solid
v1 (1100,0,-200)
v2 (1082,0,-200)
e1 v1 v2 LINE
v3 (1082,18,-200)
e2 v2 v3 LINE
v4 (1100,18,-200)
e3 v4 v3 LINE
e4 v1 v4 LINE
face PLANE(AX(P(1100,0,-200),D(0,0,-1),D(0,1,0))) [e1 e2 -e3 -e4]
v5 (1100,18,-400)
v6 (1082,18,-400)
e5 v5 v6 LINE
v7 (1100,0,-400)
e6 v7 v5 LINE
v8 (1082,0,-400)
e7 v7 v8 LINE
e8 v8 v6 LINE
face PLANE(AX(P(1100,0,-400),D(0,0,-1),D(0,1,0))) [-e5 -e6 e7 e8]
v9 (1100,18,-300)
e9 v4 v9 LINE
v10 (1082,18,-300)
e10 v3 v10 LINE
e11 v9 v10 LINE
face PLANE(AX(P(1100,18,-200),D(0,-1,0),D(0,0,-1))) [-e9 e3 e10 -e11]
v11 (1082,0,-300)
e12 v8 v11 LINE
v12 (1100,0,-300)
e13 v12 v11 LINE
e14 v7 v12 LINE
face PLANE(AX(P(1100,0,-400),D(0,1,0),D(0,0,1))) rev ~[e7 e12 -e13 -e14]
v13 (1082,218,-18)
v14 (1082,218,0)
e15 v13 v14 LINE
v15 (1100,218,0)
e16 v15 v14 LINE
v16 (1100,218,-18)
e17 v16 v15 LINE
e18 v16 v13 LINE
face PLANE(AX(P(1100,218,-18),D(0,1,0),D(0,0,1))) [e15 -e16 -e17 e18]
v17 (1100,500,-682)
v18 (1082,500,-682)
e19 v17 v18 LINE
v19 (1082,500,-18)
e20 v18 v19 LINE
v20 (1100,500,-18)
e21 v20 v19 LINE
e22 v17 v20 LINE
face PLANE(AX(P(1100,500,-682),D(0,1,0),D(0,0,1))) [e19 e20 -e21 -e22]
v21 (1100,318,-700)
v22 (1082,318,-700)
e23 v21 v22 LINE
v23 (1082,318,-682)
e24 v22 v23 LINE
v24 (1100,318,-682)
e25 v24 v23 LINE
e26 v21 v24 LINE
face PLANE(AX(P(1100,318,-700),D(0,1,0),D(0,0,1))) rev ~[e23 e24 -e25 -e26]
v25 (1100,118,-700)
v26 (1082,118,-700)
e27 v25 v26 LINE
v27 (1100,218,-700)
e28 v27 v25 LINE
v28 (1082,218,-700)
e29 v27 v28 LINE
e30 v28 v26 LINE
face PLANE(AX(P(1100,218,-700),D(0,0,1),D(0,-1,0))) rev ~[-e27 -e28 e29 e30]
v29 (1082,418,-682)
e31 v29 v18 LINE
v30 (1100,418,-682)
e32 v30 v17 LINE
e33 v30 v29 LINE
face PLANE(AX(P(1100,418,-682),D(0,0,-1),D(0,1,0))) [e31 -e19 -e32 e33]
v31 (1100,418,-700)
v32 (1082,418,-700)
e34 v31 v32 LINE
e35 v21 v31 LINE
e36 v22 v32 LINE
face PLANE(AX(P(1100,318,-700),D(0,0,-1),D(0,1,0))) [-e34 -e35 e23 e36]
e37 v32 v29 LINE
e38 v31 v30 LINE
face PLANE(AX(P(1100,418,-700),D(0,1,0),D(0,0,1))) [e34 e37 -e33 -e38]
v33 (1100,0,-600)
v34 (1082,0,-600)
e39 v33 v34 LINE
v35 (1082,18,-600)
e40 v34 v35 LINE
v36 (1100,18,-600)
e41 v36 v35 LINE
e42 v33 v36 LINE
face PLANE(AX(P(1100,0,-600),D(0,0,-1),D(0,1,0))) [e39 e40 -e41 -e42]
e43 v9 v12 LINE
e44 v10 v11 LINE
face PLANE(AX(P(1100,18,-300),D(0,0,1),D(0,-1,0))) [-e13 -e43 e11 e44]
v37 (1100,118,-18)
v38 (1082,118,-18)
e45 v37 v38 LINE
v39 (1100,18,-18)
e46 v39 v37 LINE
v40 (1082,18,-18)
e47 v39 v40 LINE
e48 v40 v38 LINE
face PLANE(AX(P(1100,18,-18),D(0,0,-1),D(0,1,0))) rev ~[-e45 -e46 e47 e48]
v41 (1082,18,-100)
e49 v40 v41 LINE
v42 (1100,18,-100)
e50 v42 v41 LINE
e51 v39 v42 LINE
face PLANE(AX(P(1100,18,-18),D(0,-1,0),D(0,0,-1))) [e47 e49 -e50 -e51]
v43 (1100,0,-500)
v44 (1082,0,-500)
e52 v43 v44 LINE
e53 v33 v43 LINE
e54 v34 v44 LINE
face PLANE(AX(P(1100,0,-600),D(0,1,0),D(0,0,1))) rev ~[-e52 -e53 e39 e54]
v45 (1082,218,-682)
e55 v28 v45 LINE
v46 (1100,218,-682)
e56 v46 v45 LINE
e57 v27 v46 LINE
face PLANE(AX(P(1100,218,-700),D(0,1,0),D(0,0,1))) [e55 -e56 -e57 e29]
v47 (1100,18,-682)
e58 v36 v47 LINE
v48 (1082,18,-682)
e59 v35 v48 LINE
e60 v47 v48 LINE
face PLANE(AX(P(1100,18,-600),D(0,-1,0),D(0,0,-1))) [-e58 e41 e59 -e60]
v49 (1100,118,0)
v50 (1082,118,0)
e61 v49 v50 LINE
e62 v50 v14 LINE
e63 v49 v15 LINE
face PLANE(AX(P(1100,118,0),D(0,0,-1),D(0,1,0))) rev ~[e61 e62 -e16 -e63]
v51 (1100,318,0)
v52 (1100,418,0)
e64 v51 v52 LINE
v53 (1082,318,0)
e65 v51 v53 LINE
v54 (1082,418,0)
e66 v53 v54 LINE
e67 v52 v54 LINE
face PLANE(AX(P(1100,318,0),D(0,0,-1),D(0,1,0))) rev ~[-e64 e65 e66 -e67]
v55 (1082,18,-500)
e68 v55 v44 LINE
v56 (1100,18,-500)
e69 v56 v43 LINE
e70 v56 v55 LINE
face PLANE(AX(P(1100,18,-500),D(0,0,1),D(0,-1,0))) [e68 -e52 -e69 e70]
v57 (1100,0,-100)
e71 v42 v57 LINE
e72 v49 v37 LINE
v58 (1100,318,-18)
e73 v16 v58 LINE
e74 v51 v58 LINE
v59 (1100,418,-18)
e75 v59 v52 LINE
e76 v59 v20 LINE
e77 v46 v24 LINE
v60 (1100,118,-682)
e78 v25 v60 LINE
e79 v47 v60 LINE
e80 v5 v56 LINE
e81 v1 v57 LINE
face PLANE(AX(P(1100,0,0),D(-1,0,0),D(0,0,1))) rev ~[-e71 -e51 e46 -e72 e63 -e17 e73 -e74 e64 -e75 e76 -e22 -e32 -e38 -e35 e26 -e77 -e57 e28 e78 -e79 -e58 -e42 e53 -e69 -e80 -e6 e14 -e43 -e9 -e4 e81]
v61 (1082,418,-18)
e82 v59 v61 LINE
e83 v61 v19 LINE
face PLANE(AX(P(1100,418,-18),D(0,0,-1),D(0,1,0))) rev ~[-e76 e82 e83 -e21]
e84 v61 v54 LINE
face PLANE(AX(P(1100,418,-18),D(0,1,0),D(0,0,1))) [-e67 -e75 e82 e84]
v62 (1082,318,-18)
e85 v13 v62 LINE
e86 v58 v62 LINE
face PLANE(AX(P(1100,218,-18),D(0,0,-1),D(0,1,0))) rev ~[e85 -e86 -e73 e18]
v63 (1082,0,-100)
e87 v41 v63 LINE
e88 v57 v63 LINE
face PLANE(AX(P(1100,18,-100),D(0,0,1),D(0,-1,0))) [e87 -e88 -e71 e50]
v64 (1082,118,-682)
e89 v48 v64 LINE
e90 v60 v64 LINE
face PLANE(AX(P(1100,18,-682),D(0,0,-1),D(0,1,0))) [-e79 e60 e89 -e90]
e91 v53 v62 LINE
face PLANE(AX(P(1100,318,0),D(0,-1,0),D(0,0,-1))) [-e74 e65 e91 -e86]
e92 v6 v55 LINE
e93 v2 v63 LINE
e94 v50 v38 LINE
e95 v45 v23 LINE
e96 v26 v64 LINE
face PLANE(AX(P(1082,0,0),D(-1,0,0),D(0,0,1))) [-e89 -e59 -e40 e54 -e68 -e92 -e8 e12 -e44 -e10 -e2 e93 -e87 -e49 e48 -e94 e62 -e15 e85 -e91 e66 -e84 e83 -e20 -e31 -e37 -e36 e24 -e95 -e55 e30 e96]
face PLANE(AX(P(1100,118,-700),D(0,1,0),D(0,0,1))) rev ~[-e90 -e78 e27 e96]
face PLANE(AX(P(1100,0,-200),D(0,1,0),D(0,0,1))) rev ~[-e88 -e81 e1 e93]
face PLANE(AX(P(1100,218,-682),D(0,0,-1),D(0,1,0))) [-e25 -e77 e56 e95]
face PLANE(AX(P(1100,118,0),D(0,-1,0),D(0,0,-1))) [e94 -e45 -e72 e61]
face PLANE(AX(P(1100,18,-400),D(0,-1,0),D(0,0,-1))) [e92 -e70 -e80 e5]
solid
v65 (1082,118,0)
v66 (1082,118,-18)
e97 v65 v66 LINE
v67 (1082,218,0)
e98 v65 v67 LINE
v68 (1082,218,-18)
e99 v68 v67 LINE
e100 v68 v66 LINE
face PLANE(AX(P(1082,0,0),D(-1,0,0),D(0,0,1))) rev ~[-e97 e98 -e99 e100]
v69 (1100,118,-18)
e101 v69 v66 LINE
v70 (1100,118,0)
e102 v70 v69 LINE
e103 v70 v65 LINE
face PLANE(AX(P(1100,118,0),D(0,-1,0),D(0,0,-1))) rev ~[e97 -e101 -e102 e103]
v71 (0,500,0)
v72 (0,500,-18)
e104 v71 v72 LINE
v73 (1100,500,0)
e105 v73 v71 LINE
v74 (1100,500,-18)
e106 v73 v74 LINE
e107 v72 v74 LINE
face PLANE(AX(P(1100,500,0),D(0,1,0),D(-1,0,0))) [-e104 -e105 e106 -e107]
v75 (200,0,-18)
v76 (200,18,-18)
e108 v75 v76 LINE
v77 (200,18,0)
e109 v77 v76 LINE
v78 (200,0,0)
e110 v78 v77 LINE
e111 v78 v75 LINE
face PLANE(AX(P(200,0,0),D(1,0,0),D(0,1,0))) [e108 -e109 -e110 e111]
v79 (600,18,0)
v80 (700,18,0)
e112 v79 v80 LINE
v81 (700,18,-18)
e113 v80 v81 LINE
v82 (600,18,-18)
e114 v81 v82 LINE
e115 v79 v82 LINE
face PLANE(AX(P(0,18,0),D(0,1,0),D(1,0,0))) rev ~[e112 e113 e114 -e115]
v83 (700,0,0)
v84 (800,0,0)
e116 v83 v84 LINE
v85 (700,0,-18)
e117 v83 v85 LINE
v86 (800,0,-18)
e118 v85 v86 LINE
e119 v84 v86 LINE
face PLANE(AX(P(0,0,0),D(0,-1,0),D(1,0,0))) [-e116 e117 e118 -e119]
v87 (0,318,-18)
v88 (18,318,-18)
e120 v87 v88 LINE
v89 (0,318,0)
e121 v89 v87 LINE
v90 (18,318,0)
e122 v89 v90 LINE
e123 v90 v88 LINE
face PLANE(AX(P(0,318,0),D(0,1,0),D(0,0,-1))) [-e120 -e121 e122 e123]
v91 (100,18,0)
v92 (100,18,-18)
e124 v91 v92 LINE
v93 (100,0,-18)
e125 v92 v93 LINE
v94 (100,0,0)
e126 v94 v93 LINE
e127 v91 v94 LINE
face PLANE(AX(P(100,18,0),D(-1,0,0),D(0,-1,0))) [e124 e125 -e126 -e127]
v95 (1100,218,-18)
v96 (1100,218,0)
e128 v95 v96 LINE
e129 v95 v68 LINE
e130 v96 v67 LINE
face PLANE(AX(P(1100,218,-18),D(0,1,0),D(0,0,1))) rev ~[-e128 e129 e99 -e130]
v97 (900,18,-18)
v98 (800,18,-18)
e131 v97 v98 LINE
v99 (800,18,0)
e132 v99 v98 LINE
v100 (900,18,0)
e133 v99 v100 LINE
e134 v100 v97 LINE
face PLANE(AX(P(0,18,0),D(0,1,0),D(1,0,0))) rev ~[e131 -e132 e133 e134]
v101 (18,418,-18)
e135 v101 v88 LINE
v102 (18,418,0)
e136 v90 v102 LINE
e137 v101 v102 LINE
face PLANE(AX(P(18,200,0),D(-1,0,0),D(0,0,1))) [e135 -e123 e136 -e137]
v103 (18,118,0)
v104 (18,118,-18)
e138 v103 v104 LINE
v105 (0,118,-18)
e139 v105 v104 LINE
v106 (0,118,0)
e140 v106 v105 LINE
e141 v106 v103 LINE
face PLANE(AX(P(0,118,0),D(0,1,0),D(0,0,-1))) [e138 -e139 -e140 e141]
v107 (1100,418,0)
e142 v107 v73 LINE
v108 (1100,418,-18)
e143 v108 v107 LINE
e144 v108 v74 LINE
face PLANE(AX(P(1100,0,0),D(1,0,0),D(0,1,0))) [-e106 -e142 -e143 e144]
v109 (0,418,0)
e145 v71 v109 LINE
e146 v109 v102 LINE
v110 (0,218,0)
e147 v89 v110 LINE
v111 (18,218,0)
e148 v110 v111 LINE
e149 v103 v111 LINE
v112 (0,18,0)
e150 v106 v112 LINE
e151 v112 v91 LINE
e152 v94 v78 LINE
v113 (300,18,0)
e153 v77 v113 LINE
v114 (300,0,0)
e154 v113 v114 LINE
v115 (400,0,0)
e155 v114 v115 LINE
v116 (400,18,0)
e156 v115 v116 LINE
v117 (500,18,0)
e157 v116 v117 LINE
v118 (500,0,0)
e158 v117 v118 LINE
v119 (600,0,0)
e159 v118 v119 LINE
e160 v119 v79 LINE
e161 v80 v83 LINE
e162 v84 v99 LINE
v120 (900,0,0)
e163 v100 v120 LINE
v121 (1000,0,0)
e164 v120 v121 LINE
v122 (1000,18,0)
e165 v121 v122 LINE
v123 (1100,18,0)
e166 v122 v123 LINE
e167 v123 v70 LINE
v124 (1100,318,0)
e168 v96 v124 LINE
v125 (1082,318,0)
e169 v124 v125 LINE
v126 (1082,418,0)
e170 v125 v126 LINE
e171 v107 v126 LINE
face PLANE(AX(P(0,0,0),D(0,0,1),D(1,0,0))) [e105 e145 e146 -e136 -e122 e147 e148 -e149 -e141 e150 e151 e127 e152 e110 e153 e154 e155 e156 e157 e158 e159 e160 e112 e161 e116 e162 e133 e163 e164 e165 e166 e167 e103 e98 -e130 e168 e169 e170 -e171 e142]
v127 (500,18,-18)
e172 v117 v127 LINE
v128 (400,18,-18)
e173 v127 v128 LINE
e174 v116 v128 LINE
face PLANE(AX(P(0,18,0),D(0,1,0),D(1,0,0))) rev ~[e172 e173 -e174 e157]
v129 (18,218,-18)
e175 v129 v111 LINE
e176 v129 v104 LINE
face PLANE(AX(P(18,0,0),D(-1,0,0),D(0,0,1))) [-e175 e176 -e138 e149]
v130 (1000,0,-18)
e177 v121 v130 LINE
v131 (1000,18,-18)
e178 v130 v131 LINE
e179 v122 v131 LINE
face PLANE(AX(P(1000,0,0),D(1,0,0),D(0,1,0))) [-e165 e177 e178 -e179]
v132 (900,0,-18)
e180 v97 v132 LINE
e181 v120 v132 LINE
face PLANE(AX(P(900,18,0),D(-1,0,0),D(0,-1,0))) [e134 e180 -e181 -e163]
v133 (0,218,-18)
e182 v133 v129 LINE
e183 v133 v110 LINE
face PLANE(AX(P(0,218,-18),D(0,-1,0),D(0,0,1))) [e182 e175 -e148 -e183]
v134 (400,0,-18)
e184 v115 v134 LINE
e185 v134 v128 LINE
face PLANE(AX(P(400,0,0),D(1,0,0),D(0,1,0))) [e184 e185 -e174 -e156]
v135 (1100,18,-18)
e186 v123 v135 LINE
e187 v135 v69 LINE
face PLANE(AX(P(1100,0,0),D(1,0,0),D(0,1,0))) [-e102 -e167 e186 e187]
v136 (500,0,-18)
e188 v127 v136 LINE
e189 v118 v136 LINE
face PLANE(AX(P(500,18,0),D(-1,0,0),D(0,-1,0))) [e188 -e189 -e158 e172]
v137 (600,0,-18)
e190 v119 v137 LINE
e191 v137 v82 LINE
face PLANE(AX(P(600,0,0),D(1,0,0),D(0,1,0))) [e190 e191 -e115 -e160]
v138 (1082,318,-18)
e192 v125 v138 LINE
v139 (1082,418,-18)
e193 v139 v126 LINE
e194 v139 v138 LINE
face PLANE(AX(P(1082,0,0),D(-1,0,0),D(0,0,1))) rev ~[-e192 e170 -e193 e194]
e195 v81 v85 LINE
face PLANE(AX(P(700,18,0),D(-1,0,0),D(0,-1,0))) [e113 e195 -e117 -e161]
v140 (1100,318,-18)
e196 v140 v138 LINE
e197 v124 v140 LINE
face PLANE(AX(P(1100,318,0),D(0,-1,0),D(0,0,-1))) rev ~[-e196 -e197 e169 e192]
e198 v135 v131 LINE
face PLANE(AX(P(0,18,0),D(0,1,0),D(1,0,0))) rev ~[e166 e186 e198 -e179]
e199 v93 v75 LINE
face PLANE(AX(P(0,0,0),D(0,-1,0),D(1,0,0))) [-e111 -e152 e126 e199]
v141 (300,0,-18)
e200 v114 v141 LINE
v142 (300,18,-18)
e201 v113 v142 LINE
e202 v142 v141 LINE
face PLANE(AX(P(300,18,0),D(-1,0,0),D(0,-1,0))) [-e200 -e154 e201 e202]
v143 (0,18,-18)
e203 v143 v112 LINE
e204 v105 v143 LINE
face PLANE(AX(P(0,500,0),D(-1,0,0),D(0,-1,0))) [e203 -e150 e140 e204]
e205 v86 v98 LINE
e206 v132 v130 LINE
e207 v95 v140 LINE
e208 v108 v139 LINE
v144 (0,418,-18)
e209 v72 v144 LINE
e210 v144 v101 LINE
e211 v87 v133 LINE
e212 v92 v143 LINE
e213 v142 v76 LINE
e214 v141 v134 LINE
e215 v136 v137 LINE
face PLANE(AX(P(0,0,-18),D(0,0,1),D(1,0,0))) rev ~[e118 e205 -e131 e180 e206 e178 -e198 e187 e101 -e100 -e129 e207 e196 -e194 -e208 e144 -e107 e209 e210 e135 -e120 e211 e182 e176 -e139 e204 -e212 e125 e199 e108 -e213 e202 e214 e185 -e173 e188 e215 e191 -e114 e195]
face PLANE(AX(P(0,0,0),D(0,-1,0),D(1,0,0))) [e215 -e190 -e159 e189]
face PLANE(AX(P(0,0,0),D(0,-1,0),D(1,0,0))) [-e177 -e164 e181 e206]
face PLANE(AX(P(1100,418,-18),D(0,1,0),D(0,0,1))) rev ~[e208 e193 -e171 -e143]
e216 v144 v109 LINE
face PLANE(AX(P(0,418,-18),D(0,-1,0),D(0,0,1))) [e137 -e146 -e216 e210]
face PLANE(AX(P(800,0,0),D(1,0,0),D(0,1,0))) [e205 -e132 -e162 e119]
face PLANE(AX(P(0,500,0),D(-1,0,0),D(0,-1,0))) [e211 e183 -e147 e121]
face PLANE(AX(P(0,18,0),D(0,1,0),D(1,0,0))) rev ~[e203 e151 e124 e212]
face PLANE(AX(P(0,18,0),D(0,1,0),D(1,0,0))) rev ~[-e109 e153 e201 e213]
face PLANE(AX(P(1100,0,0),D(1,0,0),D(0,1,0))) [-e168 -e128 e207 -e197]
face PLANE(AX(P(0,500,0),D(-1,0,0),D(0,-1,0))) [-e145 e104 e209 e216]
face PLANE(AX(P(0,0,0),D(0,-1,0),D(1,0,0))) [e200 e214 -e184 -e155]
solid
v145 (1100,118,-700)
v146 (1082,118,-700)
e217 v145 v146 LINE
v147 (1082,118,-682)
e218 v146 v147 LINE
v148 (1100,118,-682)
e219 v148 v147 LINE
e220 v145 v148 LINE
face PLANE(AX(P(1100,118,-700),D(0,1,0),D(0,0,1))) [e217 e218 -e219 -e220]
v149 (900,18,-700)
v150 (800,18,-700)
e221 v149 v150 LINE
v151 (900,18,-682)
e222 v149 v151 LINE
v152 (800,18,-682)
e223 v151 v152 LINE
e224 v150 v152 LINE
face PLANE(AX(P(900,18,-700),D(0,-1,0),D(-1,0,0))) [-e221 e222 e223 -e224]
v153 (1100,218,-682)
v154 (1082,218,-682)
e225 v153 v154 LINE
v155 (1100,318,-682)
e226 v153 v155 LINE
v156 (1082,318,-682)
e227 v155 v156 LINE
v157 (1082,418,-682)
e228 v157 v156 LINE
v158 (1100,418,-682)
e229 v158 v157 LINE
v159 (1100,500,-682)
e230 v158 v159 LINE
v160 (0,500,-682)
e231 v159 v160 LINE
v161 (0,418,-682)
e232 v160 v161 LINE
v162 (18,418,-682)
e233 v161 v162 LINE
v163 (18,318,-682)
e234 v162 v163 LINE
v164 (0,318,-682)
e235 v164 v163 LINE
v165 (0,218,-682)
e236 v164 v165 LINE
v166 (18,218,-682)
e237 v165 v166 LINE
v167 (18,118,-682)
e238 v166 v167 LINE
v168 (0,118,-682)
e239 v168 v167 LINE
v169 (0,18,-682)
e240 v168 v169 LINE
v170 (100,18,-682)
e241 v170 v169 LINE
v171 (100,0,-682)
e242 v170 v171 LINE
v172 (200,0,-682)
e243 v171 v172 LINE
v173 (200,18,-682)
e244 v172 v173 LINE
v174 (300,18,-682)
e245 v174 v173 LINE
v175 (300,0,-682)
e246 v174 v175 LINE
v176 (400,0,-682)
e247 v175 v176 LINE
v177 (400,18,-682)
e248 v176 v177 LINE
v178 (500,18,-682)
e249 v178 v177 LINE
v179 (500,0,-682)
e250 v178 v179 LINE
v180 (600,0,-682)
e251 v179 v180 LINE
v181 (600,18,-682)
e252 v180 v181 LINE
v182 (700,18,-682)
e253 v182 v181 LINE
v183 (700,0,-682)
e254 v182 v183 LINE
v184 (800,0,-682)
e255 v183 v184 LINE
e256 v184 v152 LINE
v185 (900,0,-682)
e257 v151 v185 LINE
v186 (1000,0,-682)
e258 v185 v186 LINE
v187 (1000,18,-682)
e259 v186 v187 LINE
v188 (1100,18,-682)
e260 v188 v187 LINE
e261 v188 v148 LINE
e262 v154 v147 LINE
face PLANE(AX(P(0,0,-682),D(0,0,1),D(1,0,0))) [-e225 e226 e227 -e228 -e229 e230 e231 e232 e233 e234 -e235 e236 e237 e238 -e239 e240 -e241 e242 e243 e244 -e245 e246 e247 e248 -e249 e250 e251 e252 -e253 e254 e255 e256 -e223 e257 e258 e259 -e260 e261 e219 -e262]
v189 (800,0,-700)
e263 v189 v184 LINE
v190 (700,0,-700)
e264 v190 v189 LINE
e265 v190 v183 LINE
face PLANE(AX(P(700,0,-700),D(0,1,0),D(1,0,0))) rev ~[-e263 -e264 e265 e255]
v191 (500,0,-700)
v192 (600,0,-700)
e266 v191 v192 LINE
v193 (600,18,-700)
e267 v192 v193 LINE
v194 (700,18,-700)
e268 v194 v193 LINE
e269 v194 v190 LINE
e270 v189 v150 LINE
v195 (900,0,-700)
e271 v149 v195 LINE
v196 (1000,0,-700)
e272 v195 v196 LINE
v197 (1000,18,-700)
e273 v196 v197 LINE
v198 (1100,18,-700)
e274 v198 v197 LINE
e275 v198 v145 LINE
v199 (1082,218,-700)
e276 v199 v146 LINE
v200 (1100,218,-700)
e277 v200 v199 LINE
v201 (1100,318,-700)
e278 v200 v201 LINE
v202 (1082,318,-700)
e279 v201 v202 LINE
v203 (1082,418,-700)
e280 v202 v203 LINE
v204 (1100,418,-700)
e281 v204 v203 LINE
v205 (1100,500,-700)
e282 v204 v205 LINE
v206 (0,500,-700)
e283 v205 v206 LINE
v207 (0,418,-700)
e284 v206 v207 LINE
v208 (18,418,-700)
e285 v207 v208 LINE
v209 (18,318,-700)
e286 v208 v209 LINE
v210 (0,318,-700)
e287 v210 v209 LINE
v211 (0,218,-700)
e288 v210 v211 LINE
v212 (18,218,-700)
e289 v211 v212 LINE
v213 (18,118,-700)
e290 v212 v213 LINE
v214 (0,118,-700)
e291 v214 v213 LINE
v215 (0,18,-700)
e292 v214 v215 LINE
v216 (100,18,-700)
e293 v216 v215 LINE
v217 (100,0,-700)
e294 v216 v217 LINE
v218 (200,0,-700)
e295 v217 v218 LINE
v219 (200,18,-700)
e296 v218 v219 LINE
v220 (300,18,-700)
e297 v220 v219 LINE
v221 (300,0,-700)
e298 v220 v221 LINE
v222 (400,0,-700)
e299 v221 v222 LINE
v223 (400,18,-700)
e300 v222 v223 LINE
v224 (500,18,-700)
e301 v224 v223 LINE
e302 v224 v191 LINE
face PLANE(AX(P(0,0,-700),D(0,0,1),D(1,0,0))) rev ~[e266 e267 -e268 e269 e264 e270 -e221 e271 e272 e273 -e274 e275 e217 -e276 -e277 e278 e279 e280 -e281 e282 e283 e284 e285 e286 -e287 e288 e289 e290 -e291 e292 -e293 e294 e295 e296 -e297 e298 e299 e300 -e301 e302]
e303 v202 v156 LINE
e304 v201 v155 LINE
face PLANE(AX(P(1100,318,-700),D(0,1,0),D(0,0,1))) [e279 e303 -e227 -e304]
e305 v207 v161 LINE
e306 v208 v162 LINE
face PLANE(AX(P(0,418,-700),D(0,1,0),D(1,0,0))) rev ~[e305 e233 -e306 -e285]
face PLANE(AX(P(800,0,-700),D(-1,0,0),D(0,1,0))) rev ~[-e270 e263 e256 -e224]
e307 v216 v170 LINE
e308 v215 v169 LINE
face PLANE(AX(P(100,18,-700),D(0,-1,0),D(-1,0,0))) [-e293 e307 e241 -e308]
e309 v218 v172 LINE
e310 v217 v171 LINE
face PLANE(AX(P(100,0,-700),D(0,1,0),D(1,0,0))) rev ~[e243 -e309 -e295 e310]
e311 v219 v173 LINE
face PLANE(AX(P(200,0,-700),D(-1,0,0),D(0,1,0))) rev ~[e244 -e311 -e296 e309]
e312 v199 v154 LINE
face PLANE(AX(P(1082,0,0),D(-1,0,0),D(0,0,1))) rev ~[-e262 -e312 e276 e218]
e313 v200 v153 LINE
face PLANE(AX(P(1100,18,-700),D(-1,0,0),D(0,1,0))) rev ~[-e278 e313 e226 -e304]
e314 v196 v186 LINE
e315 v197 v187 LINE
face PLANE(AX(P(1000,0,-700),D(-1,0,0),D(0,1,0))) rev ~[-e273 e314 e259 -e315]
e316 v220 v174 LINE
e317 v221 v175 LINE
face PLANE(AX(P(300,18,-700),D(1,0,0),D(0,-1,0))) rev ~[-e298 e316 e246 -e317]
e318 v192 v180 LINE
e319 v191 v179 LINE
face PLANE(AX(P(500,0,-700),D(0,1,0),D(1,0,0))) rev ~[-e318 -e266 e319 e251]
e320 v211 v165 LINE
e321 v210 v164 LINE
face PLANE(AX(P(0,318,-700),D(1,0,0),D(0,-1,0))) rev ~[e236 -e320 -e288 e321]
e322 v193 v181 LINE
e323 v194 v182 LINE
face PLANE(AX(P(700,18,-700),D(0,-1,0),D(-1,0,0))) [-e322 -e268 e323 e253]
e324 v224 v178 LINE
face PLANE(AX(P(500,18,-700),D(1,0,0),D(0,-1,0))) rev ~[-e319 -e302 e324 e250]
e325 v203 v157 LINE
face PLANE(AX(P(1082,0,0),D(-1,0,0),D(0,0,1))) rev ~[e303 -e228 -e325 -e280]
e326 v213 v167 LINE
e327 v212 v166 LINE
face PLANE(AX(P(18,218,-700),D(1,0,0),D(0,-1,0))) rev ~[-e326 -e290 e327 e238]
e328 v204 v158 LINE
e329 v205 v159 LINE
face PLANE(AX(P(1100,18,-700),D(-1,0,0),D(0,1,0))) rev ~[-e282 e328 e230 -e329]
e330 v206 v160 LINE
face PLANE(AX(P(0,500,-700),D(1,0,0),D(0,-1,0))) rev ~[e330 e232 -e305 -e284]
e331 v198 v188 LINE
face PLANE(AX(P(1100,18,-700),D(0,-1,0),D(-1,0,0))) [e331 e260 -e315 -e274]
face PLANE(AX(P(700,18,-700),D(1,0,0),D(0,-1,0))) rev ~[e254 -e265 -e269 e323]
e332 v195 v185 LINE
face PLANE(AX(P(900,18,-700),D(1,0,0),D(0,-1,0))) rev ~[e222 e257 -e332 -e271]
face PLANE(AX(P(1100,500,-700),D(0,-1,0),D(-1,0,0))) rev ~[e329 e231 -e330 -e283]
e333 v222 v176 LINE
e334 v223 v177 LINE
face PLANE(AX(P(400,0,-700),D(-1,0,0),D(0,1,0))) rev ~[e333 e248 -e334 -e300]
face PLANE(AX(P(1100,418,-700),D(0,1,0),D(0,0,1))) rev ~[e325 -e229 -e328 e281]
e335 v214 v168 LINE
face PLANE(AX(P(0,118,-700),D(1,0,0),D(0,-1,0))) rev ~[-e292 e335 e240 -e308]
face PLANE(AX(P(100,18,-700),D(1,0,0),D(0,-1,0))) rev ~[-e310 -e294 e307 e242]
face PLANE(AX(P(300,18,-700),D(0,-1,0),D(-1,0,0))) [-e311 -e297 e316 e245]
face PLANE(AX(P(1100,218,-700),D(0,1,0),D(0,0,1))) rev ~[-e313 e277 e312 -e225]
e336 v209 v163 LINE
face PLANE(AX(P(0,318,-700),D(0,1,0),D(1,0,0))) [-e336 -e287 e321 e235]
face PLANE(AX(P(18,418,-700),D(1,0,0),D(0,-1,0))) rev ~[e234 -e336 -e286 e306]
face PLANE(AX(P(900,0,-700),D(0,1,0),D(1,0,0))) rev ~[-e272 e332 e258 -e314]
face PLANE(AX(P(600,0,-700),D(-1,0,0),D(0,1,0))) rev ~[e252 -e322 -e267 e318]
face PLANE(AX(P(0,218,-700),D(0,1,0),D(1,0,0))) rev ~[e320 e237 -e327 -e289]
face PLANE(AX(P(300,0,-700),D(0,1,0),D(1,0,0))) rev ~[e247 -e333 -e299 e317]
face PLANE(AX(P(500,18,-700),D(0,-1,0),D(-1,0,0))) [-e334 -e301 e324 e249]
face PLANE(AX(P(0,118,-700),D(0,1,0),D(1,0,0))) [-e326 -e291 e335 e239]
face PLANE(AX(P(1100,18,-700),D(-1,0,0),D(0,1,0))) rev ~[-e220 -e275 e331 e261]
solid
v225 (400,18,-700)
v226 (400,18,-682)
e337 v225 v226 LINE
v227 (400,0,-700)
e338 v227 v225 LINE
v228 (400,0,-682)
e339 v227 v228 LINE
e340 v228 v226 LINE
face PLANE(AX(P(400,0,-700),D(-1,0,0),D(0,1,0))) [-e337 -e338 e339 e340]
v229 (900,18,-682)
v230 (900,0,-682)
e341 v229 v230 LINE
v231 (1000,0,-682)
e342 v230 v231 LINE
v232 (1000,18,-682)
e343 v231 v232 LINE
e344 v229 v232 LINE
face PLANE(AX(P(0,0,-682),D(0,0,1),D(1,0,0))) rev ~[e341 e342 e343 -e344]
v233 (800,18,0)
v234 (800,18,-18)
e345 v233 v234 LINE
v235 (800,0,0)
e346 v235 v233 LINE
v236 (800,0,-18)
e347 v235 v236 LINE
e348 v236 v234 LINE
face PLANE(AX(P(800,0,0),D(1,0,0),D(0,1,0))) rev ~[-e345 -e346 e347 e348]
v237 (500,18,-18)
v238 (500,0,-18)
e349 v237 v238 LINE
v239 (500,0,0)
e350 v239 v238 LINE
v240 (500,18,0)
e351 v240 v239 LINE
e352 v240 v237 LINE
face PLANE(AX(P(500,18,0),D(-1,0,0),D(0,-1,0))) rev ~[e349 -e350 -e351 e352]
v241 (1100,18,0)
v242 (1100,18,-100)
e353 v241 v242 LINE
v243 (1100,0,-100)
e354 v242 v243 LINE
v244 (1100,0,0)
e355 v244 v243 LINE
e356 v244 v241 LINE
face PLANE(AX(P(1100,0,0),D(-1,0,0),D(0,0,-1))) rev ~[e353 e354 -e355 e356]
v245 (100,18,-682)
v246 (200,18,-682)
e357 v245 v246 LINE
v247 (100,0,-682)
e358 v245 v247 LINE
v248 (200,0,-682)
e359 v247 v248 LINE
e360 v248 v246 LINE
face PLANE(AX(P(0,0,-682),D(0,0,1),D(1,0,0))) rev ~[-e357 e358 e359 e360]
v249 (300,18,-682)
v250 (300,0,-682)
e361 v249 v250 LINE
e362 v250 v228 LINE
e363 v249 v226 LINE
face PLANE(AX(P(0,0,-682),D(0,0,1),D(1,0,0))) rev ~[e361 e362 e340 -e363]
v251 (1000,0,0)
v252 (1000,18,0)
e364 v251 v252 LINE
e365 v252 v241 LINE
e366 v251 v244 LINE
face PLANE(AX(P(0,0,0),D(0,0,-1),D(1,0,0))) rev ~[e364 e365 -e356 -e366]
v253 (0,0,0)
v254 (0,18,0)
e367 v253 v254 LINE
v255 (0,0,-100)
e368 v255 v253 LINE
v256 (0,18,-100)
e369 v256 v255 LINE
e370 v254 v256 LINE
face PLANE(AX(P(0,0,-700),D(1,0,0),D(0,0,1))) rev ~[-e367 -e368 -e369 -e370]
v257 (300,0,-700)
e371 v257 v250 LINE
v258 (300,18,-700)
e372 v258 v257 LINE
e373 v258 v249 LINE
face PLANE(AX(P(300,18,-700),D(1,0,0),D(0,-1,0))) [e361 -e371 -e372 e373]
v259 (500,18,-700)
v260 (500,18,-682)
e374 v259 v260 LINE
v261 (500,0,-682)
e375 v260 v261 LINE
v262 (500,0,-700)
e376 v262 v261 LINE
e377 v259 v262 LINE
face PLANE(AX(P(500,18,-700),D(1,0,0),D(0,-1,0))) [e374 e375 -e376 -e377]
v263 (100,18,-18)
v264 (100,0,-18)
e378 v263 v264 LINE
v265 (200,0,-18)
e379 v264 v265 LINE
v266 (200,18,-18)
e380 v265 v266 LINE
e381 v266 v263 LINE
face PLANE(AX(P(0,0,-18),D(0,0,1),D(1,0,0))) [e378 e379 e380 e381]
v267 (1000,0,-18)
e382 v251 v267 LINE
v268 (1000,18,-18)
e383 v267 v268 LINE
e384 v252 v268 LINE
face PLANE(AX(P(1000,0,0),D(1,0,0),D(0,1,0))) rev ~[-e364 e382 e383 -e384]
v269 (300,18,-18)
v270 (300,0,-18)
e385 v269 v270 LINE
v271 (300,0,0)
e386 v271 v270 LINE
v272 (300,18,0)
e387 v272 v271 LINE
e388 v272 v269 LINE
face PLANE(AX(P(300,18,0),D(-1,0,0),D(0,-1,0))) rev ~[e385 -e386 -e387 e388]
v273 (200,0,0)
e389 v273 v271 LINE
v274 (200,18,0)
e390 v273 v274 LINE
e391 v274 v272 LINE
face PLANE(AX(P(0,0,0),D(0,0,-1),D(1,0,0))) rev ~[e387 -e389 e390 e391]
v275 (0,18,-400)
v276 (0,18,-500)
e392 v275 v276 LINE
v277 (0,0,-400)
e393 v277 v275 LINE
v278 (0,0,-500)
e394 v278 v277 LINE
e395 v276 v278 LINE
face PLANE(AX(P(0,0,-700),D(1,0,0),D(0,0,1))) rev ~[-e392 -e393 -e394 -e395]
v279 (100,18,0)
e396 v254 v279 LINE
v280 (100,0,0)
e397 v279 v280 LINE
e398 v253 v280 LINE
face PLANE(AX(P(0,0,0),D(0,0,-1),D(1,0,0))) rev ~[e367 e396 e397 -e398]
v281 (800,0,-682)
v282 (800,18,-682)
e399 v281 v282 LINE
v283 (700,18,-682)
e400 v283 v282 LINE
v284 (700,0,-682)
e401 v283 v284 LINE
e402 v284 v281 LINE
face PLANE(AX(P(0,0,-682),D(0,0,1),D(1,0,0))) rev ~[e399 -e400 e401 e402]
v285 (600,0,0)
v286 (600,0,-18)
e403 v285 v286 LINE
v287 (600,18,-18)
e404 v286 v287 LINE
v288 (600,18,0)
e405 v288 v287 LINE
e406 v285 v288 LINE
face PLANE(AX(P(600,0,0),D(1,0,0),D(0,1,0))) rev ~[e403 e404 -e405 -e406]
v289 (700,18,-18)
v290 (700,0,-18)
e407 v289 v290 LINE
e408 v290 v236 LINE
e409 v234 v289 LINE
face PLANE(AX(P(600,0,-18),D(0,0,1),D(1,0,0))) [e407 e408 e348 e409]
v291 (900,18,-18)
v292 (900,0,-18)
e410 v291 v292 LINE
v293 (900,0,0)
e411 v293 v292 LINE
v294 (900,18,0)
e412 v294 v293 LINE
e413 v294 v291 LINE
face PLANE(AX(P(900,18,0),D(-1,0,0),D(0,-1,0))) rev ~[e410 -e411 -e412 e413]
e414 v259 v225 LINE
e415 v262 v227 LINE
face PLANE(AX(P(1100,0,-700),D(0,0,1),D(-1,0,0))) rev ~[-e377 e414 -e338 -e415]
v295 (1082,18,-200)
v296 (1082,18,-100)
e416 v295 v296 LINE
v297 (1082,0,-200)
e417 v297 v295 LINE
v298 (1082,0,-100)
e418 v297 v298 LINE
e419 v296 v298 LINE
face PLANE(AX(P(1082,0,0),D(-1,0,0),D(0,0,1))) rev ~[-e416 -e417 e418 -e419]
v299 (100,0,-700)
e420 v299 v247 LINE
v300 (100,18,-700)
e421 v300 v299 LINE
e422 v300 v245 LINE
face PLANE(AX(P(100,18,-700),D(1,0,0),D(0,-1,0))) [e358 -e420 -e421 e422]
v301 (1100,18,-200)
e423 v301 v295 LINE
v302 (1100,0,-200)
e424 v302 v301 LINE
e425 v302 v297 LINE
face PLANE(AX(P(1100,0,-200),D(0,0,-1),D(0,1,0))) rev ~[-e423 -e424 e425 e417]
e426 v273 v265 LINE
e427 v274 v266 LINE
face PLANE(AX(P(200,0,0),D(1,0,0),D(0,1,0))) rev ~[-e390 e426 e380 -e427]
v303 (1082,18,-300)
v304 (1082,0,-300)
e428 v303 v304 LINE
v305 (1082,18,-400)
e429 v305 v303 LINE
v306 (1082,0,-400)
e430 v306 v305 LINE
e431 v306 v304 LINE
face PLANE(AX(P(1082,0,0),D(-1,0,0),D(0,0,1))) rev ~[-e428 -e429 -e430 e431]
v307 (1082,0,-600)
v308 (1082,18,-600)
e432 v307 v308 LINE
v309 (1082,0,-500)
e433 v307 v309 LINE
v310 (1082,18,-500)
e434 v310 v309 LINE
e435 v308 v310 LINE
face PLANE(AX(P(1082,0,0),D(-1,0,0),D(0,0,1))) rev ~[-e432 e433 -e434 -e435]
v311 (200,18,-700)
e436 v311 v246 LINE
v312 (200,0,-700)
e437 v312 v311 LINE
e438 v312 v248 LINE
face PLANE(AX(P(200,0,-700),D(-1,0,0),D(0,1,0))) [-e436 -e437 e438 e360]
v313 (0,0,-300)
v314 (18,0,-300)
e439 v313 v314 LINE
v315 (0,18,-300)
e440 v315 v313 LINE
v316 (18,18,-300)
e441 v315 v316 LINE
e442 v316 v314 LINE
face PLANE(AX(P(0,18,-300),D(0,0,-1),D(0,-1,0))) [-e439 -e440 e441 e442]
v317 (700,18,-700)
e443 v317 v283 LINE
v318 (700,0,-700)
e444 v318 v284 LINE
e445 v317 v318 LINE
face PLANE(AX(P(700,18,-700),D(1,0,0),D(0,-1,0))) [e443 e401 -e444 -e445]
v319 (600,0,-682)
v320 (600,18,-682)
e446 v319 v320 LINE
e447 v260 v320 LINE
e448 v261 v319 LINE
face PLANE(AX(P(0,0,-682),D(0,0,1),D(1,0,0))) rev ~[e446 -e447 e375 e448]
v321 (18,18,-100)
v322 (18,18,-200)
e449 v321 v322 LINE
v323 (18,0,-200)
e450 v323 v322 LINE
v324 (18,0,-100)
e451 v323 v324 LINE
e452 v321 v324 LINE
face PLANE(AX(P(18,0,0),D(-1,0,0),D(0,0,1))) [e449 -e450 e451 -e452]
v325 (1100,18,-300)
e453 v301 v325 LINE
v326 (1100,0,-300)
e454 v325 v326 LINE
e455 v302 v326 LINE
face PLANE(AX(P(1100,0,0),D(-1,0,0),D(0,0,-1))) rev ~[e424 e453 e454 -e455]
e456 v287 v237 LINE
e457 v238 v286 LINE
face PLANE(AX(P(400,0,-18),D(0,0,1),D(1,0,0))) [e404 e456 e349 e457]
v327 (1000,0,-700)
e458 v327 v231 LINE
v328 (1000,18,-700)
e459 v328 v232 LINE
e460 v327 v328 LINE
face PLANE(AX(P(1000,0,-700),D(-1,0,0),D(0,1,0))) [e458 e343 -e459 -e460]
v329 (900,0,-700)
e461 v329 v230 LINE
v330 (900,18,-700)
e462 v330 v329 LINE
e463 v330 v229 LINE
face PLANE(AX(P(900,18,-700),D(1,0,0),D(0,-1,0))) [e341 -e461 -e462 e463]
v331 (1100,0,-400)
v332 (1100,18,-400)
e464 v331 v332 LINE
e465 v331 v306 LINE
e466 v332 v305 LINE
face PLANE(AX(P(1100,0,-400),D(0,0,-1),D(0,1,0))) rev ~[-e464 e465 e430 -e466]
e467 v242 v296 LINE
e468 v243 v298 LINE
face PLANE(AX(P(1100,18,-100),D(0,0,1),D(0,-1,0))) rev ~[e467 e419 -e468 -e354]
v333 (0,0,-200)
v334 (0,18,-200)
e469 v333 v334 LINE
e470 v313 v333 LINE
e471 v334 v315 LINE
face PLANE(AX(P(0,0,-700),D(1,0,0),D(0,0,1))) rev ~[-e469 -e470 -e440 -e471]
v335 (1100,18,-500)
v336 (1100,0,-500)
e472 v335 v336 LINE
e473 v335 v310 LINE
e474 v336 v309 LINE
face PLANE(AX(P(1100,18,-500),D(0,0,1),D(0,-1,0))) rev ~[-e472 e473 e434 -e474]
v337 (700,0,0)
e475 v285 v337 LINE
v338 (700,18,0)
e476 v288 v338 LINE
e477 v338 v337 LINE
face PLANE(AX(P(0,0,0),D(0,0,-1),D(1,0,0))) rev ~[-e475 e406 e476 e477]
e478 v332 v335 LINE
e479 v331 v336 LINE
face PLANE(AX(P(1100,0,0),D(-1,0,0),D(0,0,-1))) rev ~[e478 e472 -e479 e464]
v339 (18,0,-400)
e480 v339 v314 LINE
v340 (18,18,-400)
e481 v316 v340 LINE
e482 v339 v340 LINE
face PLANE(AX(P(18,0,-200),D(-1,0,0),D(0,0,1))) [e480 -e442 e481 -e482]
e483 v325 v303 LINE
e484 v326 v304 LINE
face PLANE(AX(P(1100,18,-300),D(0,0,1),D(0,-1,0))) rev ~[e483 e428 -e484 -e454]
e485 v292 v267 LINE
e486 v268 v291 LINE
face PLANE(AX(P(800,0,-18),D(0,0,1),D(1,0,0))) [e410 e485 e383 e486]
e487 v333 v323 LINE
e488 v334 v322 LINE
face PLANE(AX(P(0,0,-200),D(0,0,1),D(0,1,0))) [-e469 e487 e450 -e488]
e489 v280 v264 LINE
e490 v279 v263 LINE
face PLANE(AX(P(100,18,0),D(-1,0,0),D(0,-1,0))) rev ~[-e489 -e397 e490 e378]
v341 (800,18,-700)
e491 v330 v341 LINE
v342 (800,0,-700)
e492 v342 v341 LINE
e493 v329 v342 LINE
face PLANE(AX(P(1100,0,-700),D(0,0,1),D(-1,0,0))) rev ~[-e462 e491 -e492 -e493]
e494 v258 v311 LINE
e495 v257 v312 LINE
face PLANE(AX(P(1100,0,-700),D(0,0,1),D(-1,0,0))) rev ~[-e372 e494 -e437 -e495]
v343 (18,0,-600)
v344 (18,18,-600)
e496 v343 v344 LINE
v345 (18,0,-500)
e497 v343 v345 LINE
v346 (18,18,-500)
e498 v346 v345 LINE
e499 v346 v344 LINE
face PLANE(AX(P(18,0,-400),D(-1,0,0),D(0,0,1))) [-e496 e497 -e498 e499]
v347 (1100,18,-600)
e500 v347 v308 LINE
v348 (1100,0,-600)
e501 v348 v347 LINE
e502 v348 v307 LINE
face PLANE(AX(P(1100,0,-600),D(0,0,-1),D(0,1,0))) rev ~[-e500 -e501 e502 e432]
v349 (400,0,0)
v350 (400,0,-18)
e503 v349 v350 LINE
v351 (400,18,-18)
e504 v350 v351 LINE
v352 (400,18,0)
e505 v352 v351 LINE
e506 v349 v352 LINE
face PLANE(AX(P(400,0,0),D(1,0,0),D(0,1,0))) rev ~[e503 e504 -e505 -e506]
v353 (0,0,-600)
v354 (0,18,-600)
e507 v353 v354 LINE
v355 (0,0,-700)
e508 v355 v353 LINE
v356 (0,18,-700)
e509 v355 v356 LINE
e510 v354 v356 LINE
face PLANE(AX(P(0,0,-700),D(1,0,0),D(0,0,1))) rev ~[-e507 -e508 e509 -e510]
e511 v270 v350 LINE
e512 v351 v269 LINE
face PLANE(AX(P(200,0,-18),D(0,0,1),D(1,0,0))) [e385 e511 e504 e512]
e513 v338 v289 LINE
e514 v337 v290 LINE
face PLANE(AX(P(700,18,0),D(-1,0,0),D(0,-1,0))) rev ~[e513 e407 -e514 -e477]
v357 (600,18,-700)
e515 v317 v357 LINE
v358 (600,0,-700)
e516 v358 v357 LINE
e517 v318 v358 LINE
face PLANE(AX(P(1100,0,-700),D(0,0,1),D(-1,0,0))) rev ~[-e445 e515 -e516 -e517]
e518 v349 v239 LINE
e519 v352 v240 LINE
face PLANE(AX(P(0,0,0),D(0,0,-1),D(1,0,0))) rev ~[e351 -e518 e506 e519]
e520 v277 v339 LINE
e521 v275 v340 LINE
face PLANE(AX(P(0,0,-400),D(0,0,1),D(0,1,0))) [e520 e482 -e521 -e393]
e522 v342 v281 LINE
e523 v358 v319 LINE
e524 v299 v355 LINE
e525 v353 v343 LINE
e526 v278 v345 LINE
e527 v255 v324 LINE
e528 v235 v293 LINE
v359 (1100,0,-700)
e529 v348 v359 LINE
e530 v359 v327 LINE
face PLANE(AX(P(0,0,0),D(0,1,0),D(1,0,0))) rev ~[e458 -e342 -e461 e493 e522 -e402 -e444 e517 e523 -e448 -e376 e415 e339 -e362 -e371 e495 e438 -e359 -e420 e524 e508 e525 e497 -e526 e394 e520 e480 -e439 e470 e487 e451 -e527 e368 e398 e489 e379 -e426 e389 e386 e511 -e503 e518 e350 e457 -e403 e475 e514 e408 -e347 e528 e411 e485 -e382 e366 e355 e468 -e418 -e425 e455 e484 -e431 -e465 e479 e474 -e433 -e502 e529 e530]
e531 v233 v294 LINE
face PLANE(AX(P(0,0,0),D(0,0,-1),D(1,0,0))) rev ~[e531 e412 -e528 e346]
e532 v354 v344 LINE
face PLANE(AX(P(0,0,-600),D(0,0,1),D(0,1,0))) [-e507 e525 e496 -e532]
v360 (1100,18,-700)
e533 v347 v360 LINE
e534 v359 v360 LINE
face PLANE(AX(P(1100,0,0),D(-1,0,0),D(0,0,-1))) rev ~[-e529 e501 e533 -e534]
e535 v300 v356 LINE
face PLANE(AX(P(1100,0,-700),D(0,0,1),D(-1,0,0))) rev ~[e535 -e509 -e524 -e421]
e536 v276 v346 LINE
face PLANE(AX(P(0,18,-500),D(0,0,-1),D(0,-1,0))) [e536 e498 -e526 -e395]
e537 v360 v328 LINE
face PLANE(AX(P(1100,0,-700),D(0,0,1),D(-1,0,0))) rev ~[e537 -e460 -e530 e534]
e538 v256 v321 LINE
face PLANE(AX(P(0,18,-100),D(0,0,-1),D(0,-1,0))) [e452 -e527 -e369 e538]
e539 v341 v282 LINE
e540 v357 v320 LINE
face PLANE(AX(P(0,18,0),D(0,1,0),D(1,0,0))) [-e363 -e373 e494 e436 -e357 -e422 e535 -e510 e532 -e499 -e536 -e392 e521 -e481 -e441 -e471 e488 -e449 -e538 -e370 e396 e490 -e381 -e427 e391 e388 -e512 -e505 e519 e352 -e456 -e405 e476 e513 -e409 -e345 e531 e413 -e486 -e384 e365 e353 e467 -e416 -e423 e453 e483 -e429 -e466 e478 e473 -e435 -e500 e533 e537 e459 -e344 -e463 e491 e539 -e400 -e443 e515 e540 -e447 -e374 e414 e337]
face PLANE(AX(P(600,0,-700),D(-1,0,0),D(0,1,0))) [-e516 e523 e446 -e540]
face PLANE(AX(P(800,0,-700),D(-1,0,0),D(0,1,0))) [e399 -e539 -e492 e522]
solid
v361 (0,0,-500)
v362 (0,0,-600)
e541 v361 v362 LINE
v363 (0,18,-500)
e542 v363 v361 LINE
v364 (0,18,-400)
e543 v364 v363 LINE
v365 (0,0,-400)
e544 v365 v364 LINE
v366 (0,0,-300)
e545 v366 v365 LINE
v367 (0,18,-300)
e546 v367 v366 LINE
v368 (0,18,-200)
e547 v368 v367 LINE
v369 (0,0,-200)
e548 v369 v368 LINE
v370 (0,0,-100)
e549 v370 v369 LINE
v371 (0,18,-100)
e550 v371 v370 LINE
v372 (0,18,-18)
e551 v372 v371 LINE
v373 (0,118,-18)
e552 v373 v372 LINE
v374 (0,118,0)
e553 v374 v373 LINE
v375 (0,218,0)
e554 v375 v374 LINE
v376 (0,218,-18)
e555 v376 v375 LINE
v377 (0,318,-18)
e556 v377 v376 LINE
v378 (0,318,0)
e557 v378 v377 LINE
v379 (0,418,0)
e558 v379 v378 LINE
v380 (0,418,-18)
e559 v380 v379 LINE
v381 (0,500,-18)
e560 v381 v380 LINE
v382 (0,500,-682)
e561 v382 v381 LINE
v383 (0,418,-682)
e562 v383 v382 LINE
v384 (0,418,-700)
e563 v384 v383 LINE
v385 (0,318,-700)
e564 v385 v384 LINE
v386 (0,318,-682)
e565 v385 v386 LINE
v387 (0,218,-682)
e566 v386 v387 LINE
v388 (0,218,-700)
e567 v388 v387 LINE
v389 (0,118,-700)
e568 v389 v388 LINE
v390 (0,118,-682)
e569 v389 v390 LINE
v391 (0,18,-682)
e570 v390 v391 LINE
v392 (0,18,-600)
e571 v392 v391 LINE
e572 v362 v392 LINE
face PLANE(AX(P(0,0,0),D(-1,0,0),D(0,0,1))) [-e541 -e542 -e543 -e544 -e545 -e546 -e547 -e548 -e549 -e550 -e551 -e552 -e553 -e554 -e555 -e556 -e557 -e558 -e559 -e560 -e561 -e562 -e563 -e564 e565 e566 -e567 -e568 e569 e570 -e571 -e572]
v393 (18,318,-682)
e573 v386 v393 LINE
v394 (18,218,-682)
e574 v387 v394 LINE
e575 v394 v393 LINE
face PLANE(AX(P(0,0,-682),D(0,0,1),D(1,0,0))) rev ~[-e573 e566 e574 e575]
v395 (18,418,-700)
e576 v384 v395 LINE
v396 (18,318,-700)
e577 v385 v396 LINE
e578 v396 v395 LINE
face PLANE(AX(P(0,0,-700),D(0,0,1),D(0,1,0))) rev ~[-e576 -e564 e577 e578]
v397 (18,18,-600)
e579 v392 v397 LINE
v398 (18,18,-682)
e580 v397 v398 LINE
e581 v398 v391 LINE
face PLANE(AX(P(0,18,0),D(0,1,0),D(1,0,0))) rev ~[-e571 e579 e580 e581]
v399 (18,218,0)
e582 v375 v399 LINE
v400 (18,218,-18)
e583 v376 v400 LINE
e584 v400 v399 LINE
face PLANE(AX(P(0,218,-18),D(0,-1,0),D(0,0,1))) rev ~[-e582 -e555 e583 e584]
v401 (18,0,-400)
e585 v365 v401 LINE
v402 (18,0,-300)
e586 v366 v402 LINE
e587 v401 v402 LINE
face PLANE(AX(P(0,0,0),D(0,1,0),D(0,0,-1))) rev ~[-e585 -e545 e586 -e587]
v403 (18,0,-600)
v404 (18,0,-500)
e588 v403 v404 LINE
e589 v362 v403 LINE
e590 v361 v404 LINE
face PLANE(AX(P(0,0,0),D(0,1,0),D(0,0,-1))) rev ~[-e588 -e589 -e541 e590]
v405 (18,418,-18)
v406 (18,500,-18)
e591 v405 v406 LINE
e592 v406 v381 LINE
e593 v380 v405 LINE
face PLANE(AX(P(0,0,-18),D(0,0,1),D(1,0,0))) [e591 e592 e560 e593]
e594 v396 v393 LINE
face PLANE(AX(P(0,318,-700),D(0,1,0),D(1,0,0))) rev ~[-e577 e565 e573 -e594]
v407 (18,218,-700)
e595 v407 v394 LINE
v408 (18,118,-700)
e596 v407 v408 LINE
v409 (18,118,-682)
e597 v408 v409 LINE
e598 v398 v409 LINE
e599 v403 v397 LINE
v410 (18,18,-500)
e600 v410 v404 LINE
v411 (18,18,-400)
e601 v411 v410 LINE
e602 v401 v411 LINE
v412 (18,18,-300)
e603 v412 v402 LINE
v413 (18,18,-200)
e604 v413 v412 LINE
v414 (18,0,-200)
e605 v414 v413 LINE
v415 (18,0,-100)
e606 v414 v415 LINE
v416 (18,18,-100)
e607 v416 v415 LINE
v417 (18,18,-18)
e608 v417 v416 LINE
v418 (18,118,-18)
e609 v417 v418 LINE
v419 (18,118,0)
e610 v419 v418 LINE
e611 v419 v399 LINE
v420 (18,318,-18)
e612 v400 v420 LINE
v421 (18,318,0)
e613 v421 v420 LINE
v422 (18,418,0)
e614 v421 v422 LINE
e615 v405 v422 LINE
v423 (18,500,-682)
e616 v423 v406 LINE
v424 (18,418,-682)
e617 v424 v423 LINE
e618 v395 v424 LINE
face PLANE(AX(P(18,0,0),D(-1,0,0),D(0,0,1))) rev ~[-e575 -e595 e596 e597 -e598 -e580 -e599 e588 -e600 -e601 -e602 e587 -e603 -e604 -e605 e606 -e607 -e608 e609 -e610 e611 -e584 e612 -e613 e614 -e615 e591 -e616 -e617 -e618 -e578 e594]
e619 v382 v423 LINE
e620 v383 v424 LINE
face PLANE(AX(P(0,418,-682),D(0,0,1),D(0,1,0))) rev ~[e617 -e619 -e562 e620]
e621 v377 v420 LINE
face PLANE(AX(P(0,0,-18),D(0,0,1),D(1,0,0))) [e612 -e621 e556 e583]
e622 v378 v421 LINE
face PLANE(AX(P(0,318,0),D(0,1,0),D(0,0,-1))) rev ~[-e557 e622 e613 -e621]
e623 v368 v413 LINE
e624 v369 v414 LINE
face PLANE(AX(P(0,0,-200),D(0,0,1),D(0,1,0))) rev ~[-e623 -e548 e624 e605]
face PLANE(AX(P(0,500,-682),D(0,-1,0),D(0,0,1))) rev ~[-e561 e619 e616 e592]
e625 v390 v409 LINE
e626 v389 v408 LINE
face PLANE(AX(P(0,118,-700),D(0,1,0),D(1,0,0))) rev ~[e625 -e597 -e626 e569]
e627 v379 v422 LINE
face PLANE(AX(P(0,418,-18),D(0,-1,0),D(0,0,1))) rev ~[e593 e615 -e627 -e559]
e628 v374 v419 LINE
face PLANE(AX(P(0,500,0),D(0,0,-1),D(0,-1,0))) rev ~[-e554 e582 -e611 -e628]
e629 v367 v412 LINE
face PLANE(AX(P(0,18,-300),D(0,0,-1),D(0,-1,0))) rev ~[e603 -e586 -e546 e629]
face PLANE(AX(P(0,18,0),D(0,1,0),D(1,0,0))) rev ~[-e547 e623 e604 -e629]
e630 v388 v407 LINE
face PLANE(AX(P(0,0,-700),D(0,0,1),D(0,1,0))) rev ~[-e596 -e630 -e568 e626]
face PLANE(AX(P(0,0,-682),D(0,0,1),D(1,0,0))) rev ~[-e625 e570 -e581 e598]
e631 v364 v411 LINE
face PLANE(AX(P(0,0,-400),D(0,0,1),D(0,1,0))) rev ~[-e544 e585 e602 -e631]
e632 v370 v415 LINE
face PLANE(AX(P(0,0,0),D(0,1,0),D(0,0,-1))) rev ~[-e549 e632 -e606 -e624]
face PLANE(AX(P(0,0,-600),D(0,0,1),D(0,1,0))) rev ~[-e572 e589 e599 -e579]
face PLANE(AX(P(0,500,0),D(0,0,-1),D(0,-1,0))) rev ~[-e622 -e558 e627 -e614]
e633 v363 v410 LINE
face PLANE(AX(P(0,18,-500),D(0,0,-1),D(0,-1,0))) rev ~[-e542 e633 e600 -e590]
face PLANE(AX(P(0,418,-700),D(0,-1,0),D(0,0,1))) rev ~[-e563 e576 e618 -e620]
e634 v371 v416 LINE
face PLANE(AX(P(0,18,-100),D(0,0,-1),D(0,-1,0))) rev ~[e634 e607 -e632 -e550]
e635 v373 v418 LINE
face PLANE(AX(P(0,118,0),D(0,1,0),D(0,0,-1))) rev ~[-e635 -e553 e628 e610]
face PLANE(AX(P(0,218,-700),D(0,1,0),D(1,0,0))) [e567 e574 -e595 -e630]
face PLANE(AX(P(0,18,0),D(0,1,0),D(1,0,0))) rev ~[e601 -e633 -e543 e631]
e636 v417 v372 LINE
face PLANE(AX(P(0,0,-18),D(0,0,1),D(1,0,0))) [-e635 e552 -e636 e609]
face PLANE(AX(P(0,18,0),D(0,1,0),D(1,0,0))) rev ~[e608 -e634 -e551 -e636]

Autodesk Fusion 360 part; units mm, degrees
sketch "BottomPanelSketch" plane through (0, 0, 0) normal (0, 1, 0) x (1, 0, 0)
  line L0 (0, 0) -> (1100, 0)
  line L1 (1100, 0) -> (1100, 700)
  line L2 (1100, 700) -> (0, 700)
  line L3 (0, 700) -> (0, 0)
  dimension "d12" = 1100
  dimension "d13" = 700
extrude "Extrude1" add sketch "BottomPanelSketch" along normal blind 18 makes body 1
sketch "BottomPanelFrontFingersSketch" plane through (0, 0, 0) normal (0, 0, 1) x (1, 0, 0)
  line L0 (0, 0) -> (1100, 0)
  line L1 (1100, 0) -> (1100, 18)
  line L2 (1100, 18) -> (0, 18)
  line L3 (0, 18) -> (0, 0)
  line L4 (100, 0) -> (200, 0)
  line L5 (200, 0) -> (200, 18)
  line L6 (200, 18) -> (100, 18)
  line L7 (100, 18) -> (100, 0)
  dimension "d16" = 100
  dimension "d17" = 100
extrude "Extrude2" cut sketch "BottomPanelFrontFingersSketch" against normal blind 18 contours L0 L2 L4 L5 L6 L7 bodies 1
pattern_linear "R-Pattern1" count 5 spacing 200 along (1, 0, 0) of "Extrude2"
sketch "FrontPanelSketch" plane through (0, 0, 0) normal (0, 0, 1) x (1, 0, 0)
  line L0 (0, 0) -> (1100, 0)
  line L1 (1100, 0) -> (1100, 500)
  line L2 (1100, 500) -> (0, 500)
  line L3 (0, 500) -> (0, 0)
  dimension "d24" = 1100
  dimension "d25" = 500
extrude "Extrude3" add sketch "FrontPanelSketch" against normal blind 18 separate body makes body 2
combine "Combine1" operation cut target body 2 tool bodies 1 keep tools
sketch "BackPanelSketch" plane through (0, 0, 0) normal (-1, 0, 0) x (0, 0, 1)
  line L0 (-18, 18) -> (0, 18)
  line L1 (0, 18) -> (0, 500)
  line L2 (0, 500) -> (-18, 500)
  line L3 (-18, 500) -> (-18, 18)
  line L4 (0, 118) -> (-18, 118)
  line L5 (-18, 118) -> (-18, 218)
  line L6 (-18, 218) -> (0, 218)
  line L7 (0, 218) -> (0, 118)
  dimension "d28" = 100
  dimension "d29" = 100
extrude "Extrude4" cut sketch "BackPanelSketch" against normal blind 18 contours L1 L3 L4 L5 L6 L7 bodies 2
pattern_linear "R-Pattern2" count 2 spacing 200 along (0, 1, 0) of "Extrude4"
extrude "Extrude5" add 1 faces at (572.6667, 312, -18) along direction (0, 0, 1) blind 18 from surface at -682 separate body on bodies 2 makes body 3
combine "Combine2" operation cut target body 1 tool bodies 3 keep tools
sketch "SidePanelFingersSketch" plane through (0, 0, 0) normal (-1, 0, 0) x (0, 0, 1)
  line L0 (-700, 0) -> (0, 0)
  line L1 (0, 0) -> (0, 18)
  line L2 (0, 18) -> (-700, 18)
  line L3 (-700, 18) -> (-700, 0)
  line L4 (-100, 0) -> (-200, 0)
  line L5 (-200, 0) -> (-200, 18)
  line L6 (-200, 18) -> (-100, 18)
  line L7 (-100, 18) -> (-100, 0)
  dimension "d41" = 100
  dimension "d42" = 100
extrude "Extrude7" cut sketch "SidePanelFingersSketch" against normal blind 18 contours L0 L2 L4 L5 L6 L7 bodies 1
pattern_linear "R-Pattern3" count 3 spacing 200 along (0, 0, -1) of "Extrude7"
sketch "LeftPanelSketch" plane through (0, 0, 0) normal (-1, 0, 0) x (0, 0, 1)
  line L0 (-700, 500) -> (-700, 418)
  line L1 (-700, 418) -> (-682, 418)
  line L2 (-682, 418) -> (-682, 500)
  line L3 (-682, 500) -> (-700, 500)
  line L4 (0, 0) -> (-700, 0)
  line L5 (-700, 0) -> (-700, 500)
  line L6 (-700, 500) -> (0, 500)
  line L7 (0, 500) -> (0, 0)
extrude "Extrude8" add sketch "LeftPanelSketch" against normal blind 18 separate body contours L1 L2 L4 L5 L6 L7 makes body 4
combine "Combine3" operation cut target body 4 tool bodies 3 1 2 keep tools
extrude "Extrude9" add 1 faces at (18, 218, -366.6667) along direction (-1, 0, 0) blind 18 from surface at -1082 separate body on bodies 4 makes body 5
combine "Combine4" operation cut target body 2 tool bodies 5 keep tools
combine "Combine5" operation cut target body 1 tool bodies 5 keep tools
combine "Combine6" operation cut target body 3 tool bodies 5 keep tools
equation "length = 1100 mm"
equation "width = 700 mm"
equation "height = 500 mm"
equation "thickness = 18 mm"
equation "lengthFingers = 5"
equation "widthFingers = 3"
equation "heightFingers = 2"
equation "lengthFingersWidth = length / ( ( lengthFingers * 2 ) + 1 )"
equation "widthFingersWidth = width / ( ( widthFingers * 2 ) + 1 )"
equation "heightFingersWidth = height / ( ( heightFingers * 2 ) + 1 )"
equation "d12 = length"
equation "d13 = width"
equation "d14 = thickness"
equation "d16 = lengthFingersWidth"
equation "d17 = lengthFingersWidth"
equation "d18 = -thickness"
equation "d20 = lengthFingers"
equation "d22 = length - ( lengthFingersWidth * 3 )"
equation "d24 = length"
equation "d25 = height"
equation "d26 = -thickness"
equation "d28 = heightFingersWidth"
equation "d29 = heightFingersWidth"
equation "d30 = -thickness"
equation "d32 = heightFingers"
equation "d34 = height - ( heightFingersWidth * 3 )"
equation "d37 = -thickness"
equation "d41 = widthFingersWidth"
equation "d42 = widthFingersWidth"
equation "d43 = -thickness"
equation "d45 = widthFingers"
equation "d47 = -( width - widthFingersWidth * 3 )"
equation "d49 = -thickness"
equation "d52 = -thickness"
